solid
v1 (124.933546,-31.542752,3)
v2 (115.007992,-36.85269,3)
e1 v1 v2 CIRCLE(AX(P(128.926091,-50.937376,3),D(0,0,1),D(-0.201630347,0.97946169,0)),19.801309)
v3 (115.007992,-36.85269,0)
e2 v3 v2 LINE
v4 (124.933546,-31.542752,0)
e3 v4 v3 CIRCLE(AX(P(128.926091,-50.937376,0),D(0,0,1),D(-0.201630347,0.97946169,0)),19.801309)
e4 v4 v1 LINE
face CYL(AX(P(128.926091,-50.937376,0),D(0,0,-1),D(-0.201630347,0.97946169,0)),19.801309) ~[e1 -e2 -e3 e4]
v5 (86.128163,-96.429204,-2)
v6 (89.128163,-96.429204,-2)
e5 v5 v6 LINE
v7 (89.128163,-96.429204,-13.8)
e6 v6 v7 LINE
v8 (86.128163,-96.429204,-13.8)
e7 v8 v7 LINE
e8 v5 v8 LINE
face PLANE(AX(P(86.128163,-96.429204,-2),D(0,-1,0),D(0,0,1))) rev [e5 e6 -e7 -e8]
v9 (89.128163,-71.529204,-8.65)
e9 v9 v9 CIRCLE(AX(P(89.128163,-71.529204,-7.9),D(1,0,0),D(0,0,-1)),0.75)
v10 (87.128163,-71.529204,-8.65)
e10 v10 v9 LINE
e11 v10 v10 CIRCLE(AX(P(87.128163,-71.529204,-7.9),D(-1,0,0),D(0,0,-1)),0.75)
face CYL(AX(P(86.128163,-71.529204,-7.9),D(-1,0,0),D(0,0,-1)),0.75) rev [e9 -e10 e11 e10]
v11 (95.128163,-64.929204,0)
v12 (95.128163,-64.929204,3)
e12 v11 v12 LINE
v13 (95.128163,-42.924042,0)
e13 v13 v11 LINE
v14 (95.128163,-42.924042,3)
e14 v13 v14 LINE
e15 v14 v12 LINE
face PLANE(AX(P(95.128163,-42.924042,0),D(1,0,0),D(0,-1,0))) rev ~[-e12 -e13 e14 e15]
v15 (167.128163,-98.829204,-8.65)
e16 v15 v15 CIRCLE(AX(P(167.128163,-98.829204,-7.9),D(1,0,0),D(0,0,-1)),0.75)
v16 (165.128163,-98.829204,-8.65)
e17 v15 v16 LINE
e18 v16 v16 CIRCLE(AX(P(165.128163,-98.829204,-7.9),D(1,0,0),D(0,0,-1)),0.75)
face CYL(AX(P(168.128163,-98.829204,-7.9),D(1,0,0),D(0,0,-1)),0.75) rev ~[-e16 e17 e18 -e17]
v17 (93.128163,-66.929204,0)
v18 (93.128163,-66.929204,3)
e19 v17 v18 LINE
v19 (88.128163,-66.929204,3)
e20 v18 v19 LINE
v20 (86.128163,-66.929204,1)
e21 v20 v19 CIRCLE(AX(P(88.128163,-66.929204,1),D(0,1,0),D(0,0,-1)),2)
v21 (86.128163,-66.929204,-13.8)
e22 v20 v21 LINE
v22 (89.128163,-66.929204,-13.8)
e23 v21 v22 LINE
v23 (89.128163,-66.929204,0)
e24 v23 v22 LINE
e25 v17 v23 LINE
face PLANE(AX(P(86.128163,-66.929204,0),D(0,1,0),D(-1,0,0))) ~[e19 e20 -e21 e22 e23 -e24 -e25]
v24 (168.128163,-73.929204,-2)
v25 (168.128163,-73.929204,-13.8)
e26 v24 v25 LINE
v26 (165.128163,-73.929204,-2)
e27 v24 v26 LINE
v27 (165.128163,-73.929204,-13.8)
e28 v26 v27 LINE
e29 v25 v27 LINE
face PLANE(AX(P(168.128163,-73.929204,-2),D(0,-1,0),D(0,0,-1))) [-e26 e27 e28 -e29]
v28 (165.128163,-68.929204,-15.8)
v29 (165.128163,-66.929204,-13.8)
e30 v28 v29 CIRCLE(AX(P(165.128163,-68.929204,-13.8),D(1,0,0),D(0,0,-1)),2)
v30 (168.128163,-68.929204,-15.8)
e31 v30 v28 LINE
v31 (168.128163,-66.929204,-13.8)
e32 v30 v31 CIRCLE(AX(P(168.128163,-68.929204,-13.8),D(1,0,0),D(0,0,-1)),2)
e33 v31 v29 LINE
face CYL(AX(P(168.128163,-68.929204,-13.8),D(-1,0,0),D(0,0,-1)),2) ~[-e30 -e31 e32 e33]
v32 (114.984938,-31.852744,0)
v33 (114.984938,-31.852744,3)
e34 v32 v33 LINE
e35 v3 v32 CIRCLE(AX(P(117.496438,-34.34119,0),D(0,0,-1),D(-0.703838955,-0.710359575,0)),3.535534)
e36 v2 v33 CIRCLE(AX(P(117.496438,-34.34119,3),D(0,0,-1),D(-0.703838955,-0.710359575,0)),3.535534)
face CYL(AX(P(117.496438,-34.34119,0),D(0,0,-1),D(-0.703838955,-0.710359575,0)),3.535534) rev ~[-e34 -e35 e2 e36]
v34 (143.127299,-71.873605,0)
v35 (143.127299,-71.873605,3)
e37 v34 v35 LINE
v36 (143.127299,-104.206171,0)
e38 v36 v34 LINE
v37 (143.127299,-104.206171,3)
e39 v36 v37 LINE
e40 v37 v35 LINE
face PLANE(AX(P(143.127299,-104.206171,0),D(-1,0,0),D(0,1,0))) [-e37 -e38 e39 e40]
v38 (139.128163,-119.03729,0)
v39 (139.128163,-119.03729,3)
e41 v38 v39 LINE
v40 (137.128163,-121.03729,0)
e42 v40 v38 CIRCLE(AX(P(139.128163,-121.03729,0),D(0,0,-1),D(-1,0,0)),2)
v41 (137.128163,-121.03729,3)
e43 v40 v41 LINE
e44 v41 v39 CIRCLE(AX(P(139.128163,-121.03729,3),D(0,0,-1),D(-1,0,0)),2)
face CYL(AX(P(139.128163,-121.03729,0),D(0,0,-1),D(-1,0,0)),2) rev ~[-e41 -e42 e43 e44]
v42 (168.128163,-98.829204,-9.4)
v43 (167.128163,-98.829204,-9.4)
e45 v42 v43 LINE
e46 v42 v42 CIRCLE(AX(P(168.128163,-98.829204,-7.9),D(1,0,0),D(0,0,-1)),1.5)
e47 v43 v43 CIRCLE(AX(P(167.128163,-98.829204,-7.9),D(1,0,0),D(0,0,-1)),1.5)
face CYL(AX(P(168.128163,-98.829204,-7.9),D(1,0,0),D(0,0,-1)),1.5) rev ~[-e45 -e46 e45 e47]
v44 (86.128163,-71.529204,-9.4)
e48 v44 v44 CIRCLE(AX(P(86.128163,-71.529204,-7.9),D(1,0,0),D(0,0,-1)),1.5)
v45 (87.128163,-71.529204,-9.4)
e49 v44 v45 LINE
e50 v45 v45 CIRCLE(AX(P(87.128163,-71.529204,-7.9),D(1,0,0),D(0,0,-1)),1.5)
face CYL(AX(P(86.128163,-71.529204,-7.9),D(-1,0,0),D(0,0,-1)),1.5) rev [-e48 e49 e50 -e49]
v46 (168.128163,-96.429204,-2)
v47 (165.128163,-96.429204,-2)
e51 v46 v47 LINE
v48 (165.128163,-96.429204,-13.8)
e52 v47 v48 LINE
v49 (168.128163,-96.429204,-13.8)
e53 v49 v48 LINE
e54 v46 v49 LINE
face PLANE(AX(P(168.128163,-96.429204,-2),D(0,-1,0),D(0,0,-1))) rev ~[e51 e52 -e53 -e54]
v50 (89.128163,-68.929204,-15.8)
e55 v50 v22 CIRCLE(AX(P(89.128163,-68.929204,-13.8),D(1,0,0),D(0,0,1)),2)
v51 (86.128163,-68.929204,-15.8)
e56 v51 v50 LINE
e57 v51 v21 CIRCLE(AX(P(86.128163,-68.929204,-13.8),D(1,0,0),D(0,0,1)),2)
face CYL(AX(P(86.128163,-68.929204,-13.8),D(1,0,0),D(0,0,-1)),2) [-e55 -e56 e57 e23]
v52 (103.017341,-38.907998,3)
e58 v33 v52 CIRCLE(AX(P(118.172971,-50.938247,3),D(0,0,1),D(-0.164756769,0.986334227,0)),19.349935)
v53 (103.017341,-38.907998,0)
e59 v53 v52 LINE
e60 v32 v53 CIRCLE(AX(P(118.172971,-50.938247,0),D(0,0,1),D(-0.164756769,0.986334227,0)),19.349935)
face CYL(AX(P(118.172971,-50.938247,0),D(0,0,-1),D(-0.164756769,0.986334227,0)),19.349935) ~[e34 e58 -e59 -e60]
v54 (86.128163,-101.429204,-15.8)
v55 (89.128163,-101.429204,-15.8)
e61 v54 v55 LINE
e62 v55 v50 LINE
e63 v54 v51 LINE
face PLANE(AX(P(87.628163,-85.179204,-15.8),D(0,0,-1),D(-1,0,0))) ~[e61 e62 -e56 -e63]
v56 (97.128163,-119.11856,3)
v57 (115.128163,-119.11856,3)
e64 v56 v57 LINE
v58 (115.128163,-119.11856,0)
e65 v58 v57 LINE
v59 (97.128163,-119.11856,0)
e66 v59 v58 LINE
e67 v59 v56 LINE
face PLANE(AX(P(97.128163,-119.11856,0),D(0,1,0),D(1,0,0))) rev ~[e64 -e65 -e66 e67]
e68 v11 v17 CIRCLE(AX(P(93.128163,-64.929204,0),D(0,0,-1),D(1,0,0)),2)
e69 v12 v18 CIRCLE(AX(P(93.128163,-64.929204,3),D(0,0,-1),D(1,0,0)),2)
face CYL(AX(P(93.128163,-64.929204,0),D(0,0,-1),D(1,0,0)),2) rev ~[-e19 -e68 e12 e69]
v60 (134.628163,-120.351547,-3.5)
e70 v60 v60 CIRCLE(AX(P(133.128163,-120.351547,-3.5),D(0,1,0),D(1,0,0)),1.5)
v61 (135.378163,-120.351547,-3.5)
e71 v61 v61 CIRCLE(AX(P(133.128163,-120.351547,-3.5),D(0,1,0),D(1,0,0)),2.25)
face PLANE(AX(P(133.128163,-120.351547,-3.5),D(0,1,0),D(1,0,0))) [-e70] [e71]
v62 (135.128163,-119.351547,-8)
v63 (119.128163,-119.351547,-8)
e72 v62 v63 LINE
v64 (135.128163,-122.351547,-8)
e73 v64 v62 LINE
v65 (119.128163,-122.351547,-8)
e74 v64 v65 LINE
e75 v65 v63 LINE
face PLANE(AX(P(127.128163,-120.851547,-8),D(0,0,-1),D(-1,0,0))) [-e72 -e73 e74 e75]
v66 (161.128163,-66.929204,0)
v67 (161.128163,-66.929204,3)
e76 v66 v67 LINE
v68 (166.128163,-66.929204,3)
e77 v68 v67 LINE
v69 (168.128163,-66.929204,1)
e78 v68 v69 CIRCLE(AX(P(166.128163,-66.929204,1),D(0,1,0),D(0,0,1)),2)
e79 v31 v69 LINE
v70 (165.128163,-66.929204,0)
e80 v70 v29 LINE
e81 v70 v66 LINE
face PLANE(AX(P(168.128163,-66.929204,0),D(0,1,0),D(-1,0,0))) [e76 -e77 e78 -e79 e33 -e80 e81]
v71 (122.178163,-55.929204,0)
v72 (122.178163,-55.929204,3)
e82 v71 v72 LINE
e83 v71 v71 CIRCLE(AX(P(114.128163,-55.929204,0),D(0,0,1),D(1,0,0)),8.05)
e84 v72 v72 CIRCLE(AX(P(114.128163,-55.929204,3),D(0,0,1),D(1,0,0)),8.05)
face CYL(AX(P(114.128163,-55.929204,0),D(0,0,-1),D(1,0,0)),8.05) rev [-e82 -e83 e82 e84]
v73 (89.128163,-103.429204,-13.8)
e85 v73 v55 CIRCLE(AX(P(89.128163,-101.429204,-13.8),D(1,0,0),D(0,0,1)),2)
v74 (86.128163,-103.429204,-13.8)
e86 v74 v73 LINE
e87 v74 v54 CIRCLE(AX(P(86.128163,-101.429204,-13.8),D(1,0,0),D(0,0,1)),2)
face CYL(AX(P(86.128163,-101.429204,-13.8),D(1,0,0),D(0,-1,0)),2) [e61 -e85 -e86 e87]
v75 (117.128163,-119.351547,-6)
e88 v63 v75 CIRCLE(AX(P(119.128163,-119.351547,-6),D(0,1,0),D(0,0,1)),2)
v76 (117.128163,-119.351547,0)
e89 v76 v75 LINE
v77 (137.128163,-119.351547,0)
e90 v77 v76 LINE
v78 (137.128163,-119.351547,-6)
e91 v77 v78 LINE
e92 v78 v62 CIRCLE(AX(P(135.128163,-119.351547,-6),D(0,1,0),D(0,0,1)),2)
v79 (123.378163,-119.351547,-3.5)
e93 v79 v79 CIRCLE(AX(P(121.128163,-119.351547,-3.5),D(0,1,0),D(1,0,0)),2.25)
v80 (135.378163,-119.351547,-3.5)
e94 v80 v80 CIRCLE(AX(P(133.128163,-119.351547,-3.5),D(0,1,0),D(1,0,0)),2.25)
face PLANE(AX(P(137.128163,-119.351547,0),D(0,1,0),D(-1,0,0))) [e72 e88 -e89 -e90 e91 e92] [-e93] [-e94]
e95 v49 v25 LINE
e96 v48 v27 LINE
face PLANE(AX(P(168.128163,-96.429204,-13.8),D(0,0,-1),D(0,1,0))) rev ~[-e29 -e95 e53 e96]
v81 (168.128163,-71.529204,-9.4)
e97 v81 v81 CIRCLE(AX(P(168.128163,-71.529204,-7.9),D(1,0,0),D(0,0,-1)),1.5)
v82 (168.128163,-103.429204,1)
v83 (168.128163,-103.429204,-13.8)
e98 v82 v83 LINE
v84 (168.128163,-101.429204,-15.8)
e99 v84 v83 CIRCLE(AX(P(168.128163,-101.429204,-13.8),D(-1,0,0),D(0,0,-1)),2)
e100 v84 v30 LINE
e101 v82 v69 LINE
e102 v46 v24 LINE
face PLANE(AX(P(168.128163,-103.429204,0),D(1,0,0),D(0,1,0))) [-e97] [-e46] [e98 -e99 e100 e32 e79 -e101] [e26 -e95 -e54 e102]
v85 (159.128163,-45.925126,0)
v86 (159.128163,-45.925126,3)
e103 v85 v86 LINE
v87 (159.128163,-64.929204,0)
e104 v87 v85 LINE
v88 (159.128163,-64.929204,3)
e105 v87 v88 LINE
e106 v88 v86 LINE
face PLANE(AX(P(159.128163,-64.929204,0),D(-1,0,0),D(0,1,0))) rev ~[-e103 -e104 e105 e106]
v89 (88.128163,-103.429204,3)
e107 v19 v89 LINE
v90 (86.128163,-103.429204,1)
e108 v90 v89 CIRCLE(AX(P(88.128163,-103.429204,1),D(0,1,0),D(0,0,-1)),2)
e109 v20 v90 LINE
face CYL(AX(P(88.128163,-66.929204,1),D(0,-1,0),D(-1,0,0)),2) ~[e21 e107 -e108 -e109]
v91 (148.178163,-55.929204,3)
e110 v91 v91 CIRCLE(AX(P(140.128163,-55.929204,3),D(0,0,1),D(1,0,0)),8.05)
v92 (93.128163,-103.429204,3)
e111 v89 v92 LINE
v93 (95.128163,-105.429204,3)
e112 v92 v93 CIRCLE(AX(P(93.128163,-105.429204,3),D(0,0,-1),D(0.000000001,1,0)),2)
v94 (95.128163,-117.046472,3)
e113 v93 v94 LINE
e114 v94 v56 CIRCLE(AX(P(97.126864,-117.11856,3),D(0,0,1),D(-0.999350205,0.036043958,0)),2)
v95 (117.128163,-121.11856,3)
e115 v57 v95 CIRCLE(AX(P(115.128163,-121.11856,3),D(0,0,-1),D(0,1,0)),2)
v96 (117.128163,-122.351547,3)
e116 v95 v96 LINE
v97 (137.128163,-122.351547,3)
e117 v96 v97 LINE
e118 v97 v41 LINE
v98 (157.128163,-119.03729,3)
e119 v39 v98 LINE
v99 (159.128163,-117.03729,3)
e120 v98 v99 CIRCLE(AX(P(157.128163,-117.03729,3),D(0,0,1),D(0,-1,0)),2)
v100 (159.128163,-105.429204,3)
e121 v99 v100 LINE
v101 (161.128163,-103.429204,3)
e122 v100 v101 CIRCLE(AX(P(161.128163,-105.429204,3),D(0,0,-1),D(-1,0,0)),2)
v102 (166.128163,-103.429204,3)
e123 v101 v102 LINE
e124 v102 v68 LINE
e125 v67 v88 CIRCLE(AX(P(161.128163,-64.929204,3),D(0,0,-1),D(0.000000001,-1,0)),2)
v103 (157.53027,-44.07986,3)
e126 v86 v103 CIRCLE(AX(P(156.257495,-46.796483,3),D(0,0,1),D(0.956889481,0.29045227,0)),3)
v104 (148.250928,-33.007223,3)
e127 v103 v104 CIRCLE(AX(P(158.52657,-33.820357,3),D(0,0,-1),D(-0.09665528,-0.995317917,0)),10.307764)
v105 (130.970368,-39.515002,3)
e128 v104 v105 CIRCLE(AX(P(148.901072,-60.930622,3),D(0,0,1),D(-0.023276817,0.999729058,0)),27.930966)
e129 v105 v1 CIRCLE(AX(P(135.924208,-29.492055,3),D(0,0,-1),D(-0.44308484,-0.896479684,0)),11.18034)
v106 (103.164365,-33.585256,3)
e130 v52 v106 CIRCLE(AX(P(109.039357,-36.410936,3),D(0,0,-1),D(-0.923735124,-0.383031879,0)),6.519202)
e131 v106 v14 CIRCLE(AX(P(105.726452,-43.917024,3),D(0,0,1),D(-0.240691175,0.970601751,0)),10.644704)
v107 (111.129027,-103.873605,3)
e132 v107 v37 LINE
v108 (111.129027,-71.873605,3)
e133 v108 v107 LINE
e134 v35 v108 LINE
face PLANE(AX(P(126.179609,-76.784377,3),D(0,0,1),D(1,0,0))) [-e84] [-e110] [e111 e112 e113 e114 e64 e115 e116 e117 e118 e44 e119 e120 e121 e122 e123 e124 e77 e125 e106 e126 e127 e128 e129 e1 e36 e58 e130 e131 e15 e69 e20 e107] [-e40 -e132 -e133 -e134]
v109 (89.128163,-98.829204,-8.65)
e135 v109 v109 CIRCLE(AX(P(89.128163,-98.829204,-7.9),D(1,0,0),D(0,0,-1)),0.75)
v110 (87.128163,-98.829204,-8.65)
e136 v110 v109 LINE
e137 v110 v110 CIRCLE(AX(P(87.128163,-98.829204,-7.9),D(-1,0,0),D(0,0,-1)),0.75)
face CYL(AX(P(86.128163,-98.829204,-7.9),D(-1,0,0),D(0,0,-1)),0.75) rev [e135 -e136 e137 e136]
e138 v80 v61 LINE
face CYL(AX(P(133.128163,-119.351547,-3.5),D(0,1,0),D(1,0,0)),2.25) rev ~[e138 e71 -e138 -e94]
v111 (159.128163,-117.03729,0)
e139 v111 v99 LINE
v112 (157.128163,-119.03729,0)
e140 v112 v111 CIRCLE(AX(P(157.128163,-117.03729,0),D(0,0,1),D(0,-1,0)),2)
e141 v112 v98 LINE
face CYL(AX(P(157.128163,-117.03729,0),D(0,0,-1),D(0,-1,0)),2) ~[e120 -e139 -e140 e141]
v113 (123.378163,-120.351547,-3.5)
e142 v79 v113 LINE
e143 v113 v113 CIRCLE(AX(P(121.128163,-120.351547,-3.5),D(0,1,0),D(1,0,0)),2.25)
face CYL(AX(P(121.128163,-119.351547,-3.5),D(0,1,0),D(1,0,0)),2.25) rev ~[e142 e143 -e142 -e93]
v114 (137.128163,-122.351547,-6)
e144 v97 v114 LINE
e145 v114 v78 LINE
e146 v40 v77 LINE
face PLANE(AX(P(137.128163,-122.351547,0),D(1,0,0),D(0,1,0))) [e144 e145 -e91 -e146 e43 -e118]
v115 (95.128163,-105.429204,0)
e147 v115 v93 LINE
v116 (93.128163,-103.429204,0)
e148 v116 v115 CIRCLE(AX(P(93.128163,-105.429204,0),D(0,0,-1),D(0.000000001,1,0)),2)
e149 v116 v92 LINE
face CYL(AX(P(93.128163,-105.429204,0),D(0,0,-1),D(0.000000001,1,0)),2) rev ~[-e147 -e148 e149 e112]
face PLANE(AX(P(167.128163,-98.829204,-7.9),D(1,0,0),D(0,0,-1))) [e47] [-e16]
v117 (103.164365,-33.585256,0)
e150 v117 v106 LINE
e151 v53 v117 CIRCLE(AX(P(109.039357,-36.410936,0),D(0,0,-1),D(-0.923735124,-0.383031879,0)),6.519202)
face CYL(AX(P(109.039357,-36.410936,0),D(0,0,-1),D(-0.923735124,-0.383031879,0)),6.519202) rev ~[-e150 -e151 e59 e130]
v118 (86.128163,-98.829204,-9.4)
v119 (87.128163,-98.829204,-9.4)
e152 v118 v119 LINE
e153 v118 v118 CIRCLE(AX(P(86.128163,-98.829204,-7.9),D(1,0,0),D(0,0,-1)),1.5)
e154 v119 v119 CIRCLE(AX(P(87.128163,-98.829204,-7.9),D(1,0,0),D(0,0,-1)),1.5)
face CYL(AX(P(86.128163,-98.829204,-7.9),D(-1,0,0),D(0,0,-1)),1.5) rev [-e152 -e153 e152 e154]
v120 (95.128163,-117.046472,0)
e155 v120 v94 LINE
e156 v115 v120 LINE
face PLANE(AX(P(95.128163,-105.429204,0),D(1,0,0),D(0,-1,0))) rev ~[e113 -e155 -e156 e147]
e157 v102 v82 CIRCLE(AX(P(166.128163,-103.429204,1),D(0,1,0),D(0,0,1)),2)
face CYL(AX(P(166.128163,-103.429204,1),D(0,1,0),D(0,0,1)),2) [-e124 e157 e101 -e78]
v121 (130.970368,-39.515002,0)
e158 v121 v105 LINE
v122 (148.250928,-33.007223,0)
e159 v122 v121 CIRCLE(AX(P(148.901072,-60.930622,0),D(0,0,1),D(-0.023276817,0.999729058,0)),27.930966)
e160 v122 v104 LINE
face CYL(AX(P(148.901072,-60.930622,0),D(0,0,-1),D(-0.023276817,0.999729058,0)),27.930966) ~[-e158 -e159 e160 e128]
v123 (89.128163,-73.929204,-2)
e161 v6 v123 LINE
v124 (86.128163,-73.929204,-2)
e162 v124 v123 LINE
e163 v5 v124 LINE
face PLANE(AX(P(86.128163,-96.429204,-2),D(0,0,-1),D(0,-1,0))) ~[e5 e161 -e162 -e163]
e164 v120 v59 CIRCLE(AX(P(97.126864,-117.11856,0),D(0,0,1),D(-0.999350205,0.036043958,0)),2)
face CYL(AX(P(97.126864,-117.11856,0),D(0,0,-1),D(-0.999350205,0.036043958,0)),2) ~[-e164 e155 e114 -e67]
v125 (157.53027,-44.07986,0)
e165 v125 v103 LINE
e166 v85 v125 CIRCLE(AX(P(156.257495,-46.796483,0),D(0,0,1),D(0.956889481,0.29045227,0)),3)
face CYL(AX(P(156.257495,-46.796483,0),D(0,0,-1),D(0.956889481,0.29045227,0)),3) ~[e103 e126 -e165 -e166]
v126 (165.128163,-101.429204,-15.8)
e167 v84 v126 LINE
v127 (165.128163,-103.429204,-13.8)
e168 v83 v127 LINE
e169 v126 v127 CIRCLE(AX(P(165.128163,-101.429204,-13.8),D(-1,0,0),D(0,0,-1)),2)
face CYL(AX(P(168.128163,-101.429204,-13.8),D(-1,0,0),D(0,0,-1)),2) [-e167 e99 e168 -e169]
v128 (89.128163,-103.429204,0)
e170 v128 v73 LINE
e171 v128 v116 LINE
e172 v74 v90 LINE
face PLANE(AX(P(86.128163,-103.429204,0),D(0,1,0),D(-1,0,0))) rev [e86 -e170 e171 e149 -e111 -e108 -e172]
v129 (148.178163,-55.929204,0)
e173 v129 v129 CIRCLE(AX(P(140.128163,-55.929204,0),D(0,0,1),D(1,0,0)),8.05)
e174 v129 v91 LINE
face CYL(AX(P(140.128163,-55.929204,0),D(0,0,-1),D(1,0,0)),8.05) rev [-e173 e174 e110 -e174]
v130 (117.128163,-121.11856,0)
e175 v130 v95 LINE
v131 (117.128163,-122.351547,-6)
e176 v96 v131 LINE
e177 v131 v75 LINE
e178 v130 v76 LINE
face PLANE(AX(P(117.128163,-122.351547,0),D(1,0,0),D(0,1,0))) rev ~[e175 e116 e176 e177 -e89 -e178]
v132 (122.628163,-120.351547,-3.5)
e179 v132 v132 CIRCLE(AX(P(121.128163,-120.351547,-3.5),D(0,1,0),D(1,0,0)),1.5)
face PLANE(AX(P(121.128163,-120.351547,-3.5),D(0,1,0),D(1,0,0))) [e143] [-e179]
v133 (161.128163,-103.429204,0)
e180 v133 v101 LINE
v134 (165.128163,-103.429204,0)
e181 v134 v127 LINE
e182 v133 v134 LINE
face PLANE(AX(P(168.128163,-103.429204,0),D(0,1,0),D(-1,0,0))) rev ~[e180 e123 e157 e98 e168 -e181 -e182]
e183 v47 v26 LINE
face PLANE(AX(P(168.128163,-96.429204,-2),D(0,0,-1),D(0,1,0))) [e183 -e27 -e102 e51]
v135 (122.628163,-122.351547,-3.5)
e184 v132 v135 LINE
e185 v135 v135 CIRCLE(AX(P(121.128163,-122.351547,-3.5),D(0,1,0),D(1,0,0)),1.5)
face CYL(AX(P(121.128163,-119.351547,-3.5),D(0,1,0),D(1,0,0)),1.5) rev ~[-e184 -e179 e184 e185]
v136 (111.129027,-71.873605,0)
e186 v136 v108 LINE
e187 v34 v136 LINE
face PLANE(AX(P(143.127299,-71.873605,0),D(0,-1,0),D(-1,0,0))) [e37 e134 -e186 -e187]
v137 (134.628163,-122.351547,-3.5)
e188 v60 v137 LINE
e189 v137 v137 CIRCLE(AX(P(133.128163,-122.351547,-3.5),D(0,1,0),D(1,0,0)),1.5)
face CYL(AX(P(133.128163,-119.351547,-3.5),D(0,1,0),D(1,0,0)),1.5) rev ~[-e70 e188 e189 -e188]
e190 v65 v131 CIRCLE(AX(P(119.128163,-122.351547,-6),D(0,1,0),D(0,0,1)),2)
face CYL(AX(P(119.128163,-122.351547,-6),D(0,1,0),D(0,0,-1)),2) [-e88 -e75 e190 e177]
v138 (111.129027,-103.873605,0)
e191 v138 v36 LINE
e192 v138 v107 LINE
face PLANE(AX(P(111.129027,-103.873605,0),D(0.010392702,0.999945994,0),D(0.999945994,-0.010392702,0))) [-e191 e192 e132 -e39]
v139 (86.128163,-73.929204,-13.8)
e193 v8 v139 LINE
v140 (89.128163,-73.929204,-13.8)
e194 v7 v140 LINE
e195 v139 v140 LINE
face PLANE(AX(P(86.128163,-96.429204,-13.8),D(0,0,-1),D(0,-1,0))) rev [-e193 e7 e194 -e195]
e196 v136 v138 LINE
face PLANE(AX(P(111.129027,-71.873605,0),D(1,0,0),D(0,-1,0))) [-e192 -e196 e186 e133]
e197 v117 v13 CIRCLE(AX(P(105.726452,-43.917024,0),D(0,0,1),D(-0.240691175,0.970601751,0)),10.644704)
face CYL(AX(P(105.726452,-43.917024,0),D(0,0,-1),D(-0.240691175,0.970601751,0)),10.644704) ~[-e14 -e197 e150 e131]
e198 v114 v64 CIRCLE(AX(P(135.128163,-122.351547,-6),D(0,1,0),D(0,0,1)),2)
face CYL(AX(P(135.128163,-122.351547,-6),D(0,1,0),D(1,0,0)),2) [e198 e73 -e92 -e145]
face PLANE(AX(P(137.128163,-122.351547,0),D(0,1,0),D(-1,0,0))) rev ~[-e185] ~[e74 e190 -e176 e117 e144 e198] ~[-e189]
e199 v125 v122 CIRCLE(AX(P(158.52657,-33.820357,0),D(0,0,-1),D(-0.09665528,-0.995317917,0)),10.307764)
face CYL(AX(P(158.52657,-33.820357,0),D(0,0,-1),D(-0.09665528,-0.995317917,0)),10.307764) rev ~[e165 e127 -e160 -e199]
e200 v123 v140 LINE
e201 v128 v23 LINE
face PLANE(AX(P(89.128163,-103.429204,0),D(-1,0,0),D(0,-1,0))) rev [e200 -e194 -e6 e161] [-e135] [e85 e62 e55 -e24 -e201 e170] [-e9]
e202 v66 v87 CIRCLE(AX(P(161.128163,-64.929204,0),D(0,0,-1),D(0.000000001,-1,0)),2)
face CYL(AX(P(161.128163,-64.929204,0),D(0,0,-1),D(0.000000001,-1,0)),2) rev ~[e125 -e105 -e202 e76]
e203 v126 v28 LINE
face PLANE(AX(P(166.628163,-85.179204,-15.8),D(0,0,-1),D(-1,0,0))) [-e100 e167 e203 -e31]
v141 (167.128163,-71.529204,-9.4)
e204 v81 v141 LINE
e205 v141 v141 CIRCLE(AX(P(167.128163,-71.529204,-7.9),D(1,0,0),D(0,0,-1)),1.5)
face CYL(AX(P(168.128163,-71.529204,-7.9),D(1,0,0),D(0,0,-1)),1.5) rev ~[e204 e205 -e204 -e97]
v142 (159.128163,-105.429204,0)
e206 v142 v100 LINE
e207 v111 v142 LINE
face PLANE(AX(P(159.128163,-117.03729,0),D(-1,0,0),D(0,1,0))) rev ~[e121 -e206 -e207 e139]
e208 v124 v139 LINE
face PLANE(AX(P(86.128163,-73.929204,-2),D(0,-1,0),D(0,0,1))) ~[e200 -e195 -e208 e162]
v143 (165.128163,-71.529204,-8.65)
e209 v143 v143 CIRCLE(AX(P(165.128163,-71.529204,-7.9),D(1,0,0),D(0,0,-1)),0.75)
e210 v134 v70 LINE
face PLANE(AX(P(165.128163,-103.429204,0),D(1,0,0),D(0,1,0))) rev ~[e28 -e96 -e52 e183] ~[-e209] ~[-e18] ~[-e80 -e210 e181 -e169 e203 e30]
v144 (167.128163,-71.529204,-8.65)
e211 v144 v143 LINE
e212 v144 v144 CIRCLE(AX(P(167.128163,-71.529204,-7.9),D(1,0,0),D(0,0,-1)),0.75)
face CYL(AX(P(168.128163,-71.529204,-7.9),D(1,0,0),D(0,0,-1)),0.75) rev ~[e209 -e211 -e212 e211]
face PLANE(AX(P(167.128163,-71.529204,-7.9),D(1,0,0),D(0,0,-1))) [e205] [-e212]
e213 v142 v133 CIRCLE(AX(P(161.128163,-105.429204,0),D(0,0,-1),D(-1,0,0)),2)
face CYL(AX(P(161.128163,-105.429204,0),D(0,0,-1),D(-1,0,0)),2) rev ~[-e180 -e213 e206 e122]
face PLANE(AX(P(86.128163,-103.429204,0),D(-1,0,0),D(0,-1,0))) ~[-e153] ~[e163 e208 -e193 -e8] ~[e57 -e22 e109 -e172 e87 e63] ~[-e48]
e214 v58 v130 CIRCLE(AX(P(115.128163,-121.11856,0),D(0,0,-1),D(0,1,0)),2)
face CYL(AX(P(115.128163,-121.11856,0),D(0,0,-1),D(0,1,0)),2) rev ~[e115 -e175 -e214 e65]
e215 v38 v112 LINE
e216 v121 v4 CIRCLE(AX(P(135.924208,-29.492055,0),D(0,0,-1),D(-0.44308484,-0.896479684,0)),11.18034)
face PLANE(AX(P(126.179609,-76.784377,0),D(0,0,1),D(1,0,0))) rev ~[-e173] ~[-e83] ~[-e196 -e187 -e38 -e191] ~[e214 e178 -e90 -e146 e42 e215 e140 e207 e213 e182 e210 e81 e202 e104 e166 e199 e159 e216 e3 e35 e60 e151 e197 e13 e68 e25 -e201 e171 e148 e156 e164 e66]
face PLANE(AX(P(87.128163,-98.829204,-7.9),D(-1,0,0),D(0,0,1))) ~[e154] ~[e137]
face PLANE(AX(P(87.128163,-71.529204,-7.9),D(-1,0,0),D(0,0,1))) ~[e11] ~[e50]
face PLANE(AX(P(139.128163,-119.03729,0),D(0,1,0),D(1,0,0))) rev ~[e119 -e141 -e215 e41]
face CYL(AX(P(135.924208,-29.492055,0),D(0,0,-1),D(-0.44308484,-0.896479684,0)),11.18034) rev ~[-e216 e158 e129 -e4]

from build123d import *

# Parameters (mm, degrees)
MODEL_R                  = 8.05
SALIENTE_EXTRUIR1_DEPTH  = 3
CROQUIS2_W               = 3
CROQUIS2_H               = 36.5
SALIENTE_EXTRUIR2_DEPTH  = 15.8
CROQUIS3_R               = 0.75
CROQUIS3_W               = 11.8
CROQUIS3_H               = 22.5
CORTAR_EXTRUIR1_DEPTH    = 3
REDONDEO1_R              = 2
CROQUIS5_R               = 1.5
CORTAR_EXTRUIR3_DEPTH    = 1
REDONDEO1_OF_SIMETR_A1_R = 2
REDONDEO2_R              = 2
CROQUIS6_W               = 20
CROQUIS6_H               = 3
SALIENTE_EXTRUIR3_DEPTH  = 8
CROQUIS7_R               = 1.5
CORTAR_EXTRUIR4_DEPTH    = 3
CROQUIS8_R               = 2.25
CORTAR_EXTRUIR5_DEPTH    = 1
REDONDEO3_R              = 2


with BuildPart() as part:
    # Model → Saliente-Extruir1 (new body)
    with BuildSketch(Plane.XY):
        with BuildLine():
            Line((117.128163256, -122.351547449), (137.128163256, -122.351547449))
            Line((137.128163256, -122.351547449), (137.128163256, -121.037289507))
            ThreePointArc((137.128163256, -121.037289507), (137.713949693, -119.623075945), (139.128163256, -119.037289507))
            Line((139.128163256, -119.037289507), (157.128163256, -119.037289507))
            ThreePointArc((157.128163256, -119.037289507), (158.542376818, -118.45150307), (159.128163256, -117.037289507))
            Line((159.128163256, -117.037289507), (159.128163256, -105.429203673))
            ThreePointArc((159.128163256, -105.429203673), (159.713949693, -104.014990111), (161.128163256, -103.429203673))
            Line((161.128163256, -103.429203673), (168.128163256, -103.429203673))
            Line((168.128163256, -103.429203673), (168.128163256, -66.929203673))
            Line((168.128163256, -66.929203673), (161.128163256, -66.929203673))
            ThreePointArc((161.128163256, -66.929203673), (159.713949693, -66.343417236), (159.128163256, -64.929203673))
            Line((159.128163256, -64.929203673), (159.128163256, -45.925126076))
            ThreePointArc((159.128163256, -45.925126076), (158.525375774, -44.832630562), (157.530270287, -44.079859504))
            ThreePointArc((157.530270287, -44.079859504), (150.626254462, -40.441158757), (148.250928406, -33.007222803))
            ThreePointArc((148.250928406, -33.007222803), (139.057304014, -34.79177863), (130.970368491, -39.515002403))
            ThreePointArc((130.970368491, -39.515002403), (127.01096078, -36.241427472), (124.933546078, -31.542752084))
            ThreePointArc((124.933546078, -31.542752084), (119.585499261, -33.477559346), (115.007991873, -36.852690455))
            ThreePointArc((115.007991873, -36.852690455), (113.960942039, -34.357491642), (114.984938003, -31.852743603))
            ThreePointArc((114.984938003, -31.852743603), (108.346137898, -34.269313364), (103.017340976, -38.907998482))
            ThreePointArc((103.017340976, -38.907998482), (102.522640368, -36.230932008), (103.164365263, -33.585255769))
            ThreePointArc((103.164365263, -33.585255769), (97.657864433, -36.973852922), (95.128163256, -42.924042331))
            Line((95.128163256, -42.924042331), (95.128163256, -64.929203673))
            ThreePointArc((95.128163256, -64.929203673), (94.542376818, -66.343417236), (93.128163256, -66.929203673))
            Line((93.128163256, -66.929203673), (86.128163256, -66.929203673))
            Line((86.128163256, -66.929203673), (86.128163256, -103.429203673))
            Line((86.128163256, -103.429203673), (93.128163256, -103.429203673))
            ThreePointArc((93.128163256, -103.429203673), (94.542376818, -104.014990111), (95.128163256, -105.429203673))
            Line((95.128163256, -105.429203673), (95.128163256, -117.046472124))
            ThreePointArc((95.128163256, -117.046472124), (95.687839985, -118.507520387), (97.128163256, -119.118559619))
            Line((97.128163256, -119.118559619), (115.128163256, -119.118559619))
            ThreePointArc((115.128163256, -119.118559619), (116.542376818, -119.704346056), (117.128163256, -121.118559619))
            Line((117.128163256, -121.118559619), (117.128163256, -122.351547449))
        make_face()
        with Locations((114.128163256, -55.929203673)):
            Circle(MODEL_R, mode=Mode.SUBTRACT)
        with Locations((140.128163256, -55.929203673)):
            Circle(MODEL_R, mode=Mode.SUBTRACT)
        Polygon((143.127299166, -104.206170984), (143.127299166, -71.873604522), (111.129027345, -71.873604522), (111.129027345, -103.873604522), align=None, mode=Mode.SUBTRACT)
    extrude(amount=SALIENTE_EXTRUIR1_DEPTH)

    # Croquis2 → Saliente-Extruir2 (add)
    with BuildSketch(Plane(origin=(0, 0, 0), x_dir=(-1, 0, 0), z_dir=(0, 0, -1))):
        with Locations((-166.628163256, -85.179203673)):
            Rectangle(CROQUIS2_W, CROQUIS2_H)
    saliente_extruir2 = extrude(amount=SALIENTE_EXTRUIR2_DEPTH)

    # Croquis3 → Cortar-Extruir1 (cut)
    with BuildSketch(Plane(origin=(168.128163256, 0, 0), x_dir=(0, 0, -1), z_dir=(1, 0, 0))):
        with Locations((7.9, -98.829203673)):
            Circle(CROQUIS3_R)
        with Locations((7.9, -71.529203673)):
            Circle(CROQUIS3_R)
        with Locations((7.9, -85.179203673)):
            Rectangle(CROQUIS3_W, CROQUIS3_H)
    cortar_extruir1 = extrude(amount=-CORTAR_EXTRUIR1_DEPTH, mode=Mode.SUBTRACT)

    # Redondeo1
    redondeo1_edges = [part.edges().sort_by_distance(p)[0] for p in [
        (166.628163256, -103.429203673, -15.8),
        (166.628163256, -66.929203673, -15.8),
    ]]
    fillet(redondeo1_edges, radius=REDONDEO1_R)

    # Croquis5 → Cortar-Extruir3 (cut)
    with BuildSketch(Plane(origin=(168.128163256, 0, 0), x_dir=(0, 0, -1), z_dir=(1, 0, 0))):
        with Locations((7.9, -71.529203673)):
            Circle(CROQUIS5_R)
        with Locations((7.9, -98.829203673)):
            Circle(CROQUIS5_R)
    cortar_extruir3 = extrude(amount=-CORTAR_EXTRUIR3_DEPTH, mode=Mode.SUBTRACT)

    # Simetría1: Saliente-Extruir2, Cortar-Extruir1, Cortar-Extruir3 across plane
    add(saliente_extruir2.mirror(Plane(origin=(127.128163256, 0, 0), x_dir=(0, 0, 1), z_dir=(1, 0, 0))))
    add(cortar_extruir1.mirror(Plane(origin=(127.128163256, 0, 0), x_dir=(0, 0, 1), z_dir=(1, 0, 0))), mode=Mode.SUBTRACT)
    add(cortar_extruir3.mirror(Plane(origin=(127.128163256, 0, 0), x_dir=(0, 0, 1), z_dir=(1, 0, 0))), mode=Mode.SUBTRACT)

    # Redondeo1 of Simetría1
    redondeo1_of_simetr_a1_edges = [part.edges().sort_by_distance(p)[0] for p in [
        (87.628163256, -103.429203673, -15.8),
        (87.628163256, -66.929203673, -15.8),
    ]]
    fillet(redondeo1_of_simetr_a1_edges, radius=REDONDEO1_OF_SIMETR_A1_R)

    # Redondeo2
    redondeo2_edges = [part.edges().sort_by_distance(p)[0] for p in [
        (168.128163256, -85.179203673, 3),
        (86.128163256, -85.179203673, 3),
    ]]
    fillet(redondeo2_edges, radius=REDONDEO2_R)

    # Croquis6 → Saliente-Extruir3 (add)
    with BuildSketch(Plane(origin=(0, 0, 0), x_dir=(-1, 0, 0), z_dir=(0, 0, -1))):
        with Locations((-127.128163256, -120.851547449)):
            Rectangle(CROQUIS6_W, CROQUIS6_H)
    extrude(amount=SALIENTE_EXTRUIR3_DEPTH)

    # Croquis7 → Cortar-Extruir4 (cut)
    with BuildSketch(Plane(origin=(0, -119.351547449, 0), x_dir=(1, 0, 0), z_dir=(0, 1, 0))):
        with Locations((133.128163256, 3.5)):
            Circle(CROQUIS7_R)
        with Locations((121.128163256, 3.5)):
            Circle(CROQUIS7_R)
    extrude(amount=-CORTAR_EXTRUIR4_DEPTH, mode=Mode.SUBTRACT)

    # Croquis8 → Cortar-Extruir5 (cut)
    with BuildSketch(Plane(origin=(0, -119.351547449, 0), x_dir=(1, 0, 0), z_dir=(0, 1, 0))):
        with Locations((133.128163256, 3.5)):
            Circle(CROQUIS8_R)
        with Locations((121.128163256, 3.5)):
            Circle(CROQUIS8_R)
    extrude(amount=-CORTAR_EXTRUIR5_DEPTH, mode=Mode.SUBTRACT)

    # Redondeo3
    redondeo3_edges = [part.edges().sort_by_distance(p)[0] for p in [
        (117.128163256, -120.851547449, -8),
        (137.128163256, -120.851547449, -8),
    ]]
    fillet(redondeo3_edges, radius=REDONDEO3_R)


solid = part.part
